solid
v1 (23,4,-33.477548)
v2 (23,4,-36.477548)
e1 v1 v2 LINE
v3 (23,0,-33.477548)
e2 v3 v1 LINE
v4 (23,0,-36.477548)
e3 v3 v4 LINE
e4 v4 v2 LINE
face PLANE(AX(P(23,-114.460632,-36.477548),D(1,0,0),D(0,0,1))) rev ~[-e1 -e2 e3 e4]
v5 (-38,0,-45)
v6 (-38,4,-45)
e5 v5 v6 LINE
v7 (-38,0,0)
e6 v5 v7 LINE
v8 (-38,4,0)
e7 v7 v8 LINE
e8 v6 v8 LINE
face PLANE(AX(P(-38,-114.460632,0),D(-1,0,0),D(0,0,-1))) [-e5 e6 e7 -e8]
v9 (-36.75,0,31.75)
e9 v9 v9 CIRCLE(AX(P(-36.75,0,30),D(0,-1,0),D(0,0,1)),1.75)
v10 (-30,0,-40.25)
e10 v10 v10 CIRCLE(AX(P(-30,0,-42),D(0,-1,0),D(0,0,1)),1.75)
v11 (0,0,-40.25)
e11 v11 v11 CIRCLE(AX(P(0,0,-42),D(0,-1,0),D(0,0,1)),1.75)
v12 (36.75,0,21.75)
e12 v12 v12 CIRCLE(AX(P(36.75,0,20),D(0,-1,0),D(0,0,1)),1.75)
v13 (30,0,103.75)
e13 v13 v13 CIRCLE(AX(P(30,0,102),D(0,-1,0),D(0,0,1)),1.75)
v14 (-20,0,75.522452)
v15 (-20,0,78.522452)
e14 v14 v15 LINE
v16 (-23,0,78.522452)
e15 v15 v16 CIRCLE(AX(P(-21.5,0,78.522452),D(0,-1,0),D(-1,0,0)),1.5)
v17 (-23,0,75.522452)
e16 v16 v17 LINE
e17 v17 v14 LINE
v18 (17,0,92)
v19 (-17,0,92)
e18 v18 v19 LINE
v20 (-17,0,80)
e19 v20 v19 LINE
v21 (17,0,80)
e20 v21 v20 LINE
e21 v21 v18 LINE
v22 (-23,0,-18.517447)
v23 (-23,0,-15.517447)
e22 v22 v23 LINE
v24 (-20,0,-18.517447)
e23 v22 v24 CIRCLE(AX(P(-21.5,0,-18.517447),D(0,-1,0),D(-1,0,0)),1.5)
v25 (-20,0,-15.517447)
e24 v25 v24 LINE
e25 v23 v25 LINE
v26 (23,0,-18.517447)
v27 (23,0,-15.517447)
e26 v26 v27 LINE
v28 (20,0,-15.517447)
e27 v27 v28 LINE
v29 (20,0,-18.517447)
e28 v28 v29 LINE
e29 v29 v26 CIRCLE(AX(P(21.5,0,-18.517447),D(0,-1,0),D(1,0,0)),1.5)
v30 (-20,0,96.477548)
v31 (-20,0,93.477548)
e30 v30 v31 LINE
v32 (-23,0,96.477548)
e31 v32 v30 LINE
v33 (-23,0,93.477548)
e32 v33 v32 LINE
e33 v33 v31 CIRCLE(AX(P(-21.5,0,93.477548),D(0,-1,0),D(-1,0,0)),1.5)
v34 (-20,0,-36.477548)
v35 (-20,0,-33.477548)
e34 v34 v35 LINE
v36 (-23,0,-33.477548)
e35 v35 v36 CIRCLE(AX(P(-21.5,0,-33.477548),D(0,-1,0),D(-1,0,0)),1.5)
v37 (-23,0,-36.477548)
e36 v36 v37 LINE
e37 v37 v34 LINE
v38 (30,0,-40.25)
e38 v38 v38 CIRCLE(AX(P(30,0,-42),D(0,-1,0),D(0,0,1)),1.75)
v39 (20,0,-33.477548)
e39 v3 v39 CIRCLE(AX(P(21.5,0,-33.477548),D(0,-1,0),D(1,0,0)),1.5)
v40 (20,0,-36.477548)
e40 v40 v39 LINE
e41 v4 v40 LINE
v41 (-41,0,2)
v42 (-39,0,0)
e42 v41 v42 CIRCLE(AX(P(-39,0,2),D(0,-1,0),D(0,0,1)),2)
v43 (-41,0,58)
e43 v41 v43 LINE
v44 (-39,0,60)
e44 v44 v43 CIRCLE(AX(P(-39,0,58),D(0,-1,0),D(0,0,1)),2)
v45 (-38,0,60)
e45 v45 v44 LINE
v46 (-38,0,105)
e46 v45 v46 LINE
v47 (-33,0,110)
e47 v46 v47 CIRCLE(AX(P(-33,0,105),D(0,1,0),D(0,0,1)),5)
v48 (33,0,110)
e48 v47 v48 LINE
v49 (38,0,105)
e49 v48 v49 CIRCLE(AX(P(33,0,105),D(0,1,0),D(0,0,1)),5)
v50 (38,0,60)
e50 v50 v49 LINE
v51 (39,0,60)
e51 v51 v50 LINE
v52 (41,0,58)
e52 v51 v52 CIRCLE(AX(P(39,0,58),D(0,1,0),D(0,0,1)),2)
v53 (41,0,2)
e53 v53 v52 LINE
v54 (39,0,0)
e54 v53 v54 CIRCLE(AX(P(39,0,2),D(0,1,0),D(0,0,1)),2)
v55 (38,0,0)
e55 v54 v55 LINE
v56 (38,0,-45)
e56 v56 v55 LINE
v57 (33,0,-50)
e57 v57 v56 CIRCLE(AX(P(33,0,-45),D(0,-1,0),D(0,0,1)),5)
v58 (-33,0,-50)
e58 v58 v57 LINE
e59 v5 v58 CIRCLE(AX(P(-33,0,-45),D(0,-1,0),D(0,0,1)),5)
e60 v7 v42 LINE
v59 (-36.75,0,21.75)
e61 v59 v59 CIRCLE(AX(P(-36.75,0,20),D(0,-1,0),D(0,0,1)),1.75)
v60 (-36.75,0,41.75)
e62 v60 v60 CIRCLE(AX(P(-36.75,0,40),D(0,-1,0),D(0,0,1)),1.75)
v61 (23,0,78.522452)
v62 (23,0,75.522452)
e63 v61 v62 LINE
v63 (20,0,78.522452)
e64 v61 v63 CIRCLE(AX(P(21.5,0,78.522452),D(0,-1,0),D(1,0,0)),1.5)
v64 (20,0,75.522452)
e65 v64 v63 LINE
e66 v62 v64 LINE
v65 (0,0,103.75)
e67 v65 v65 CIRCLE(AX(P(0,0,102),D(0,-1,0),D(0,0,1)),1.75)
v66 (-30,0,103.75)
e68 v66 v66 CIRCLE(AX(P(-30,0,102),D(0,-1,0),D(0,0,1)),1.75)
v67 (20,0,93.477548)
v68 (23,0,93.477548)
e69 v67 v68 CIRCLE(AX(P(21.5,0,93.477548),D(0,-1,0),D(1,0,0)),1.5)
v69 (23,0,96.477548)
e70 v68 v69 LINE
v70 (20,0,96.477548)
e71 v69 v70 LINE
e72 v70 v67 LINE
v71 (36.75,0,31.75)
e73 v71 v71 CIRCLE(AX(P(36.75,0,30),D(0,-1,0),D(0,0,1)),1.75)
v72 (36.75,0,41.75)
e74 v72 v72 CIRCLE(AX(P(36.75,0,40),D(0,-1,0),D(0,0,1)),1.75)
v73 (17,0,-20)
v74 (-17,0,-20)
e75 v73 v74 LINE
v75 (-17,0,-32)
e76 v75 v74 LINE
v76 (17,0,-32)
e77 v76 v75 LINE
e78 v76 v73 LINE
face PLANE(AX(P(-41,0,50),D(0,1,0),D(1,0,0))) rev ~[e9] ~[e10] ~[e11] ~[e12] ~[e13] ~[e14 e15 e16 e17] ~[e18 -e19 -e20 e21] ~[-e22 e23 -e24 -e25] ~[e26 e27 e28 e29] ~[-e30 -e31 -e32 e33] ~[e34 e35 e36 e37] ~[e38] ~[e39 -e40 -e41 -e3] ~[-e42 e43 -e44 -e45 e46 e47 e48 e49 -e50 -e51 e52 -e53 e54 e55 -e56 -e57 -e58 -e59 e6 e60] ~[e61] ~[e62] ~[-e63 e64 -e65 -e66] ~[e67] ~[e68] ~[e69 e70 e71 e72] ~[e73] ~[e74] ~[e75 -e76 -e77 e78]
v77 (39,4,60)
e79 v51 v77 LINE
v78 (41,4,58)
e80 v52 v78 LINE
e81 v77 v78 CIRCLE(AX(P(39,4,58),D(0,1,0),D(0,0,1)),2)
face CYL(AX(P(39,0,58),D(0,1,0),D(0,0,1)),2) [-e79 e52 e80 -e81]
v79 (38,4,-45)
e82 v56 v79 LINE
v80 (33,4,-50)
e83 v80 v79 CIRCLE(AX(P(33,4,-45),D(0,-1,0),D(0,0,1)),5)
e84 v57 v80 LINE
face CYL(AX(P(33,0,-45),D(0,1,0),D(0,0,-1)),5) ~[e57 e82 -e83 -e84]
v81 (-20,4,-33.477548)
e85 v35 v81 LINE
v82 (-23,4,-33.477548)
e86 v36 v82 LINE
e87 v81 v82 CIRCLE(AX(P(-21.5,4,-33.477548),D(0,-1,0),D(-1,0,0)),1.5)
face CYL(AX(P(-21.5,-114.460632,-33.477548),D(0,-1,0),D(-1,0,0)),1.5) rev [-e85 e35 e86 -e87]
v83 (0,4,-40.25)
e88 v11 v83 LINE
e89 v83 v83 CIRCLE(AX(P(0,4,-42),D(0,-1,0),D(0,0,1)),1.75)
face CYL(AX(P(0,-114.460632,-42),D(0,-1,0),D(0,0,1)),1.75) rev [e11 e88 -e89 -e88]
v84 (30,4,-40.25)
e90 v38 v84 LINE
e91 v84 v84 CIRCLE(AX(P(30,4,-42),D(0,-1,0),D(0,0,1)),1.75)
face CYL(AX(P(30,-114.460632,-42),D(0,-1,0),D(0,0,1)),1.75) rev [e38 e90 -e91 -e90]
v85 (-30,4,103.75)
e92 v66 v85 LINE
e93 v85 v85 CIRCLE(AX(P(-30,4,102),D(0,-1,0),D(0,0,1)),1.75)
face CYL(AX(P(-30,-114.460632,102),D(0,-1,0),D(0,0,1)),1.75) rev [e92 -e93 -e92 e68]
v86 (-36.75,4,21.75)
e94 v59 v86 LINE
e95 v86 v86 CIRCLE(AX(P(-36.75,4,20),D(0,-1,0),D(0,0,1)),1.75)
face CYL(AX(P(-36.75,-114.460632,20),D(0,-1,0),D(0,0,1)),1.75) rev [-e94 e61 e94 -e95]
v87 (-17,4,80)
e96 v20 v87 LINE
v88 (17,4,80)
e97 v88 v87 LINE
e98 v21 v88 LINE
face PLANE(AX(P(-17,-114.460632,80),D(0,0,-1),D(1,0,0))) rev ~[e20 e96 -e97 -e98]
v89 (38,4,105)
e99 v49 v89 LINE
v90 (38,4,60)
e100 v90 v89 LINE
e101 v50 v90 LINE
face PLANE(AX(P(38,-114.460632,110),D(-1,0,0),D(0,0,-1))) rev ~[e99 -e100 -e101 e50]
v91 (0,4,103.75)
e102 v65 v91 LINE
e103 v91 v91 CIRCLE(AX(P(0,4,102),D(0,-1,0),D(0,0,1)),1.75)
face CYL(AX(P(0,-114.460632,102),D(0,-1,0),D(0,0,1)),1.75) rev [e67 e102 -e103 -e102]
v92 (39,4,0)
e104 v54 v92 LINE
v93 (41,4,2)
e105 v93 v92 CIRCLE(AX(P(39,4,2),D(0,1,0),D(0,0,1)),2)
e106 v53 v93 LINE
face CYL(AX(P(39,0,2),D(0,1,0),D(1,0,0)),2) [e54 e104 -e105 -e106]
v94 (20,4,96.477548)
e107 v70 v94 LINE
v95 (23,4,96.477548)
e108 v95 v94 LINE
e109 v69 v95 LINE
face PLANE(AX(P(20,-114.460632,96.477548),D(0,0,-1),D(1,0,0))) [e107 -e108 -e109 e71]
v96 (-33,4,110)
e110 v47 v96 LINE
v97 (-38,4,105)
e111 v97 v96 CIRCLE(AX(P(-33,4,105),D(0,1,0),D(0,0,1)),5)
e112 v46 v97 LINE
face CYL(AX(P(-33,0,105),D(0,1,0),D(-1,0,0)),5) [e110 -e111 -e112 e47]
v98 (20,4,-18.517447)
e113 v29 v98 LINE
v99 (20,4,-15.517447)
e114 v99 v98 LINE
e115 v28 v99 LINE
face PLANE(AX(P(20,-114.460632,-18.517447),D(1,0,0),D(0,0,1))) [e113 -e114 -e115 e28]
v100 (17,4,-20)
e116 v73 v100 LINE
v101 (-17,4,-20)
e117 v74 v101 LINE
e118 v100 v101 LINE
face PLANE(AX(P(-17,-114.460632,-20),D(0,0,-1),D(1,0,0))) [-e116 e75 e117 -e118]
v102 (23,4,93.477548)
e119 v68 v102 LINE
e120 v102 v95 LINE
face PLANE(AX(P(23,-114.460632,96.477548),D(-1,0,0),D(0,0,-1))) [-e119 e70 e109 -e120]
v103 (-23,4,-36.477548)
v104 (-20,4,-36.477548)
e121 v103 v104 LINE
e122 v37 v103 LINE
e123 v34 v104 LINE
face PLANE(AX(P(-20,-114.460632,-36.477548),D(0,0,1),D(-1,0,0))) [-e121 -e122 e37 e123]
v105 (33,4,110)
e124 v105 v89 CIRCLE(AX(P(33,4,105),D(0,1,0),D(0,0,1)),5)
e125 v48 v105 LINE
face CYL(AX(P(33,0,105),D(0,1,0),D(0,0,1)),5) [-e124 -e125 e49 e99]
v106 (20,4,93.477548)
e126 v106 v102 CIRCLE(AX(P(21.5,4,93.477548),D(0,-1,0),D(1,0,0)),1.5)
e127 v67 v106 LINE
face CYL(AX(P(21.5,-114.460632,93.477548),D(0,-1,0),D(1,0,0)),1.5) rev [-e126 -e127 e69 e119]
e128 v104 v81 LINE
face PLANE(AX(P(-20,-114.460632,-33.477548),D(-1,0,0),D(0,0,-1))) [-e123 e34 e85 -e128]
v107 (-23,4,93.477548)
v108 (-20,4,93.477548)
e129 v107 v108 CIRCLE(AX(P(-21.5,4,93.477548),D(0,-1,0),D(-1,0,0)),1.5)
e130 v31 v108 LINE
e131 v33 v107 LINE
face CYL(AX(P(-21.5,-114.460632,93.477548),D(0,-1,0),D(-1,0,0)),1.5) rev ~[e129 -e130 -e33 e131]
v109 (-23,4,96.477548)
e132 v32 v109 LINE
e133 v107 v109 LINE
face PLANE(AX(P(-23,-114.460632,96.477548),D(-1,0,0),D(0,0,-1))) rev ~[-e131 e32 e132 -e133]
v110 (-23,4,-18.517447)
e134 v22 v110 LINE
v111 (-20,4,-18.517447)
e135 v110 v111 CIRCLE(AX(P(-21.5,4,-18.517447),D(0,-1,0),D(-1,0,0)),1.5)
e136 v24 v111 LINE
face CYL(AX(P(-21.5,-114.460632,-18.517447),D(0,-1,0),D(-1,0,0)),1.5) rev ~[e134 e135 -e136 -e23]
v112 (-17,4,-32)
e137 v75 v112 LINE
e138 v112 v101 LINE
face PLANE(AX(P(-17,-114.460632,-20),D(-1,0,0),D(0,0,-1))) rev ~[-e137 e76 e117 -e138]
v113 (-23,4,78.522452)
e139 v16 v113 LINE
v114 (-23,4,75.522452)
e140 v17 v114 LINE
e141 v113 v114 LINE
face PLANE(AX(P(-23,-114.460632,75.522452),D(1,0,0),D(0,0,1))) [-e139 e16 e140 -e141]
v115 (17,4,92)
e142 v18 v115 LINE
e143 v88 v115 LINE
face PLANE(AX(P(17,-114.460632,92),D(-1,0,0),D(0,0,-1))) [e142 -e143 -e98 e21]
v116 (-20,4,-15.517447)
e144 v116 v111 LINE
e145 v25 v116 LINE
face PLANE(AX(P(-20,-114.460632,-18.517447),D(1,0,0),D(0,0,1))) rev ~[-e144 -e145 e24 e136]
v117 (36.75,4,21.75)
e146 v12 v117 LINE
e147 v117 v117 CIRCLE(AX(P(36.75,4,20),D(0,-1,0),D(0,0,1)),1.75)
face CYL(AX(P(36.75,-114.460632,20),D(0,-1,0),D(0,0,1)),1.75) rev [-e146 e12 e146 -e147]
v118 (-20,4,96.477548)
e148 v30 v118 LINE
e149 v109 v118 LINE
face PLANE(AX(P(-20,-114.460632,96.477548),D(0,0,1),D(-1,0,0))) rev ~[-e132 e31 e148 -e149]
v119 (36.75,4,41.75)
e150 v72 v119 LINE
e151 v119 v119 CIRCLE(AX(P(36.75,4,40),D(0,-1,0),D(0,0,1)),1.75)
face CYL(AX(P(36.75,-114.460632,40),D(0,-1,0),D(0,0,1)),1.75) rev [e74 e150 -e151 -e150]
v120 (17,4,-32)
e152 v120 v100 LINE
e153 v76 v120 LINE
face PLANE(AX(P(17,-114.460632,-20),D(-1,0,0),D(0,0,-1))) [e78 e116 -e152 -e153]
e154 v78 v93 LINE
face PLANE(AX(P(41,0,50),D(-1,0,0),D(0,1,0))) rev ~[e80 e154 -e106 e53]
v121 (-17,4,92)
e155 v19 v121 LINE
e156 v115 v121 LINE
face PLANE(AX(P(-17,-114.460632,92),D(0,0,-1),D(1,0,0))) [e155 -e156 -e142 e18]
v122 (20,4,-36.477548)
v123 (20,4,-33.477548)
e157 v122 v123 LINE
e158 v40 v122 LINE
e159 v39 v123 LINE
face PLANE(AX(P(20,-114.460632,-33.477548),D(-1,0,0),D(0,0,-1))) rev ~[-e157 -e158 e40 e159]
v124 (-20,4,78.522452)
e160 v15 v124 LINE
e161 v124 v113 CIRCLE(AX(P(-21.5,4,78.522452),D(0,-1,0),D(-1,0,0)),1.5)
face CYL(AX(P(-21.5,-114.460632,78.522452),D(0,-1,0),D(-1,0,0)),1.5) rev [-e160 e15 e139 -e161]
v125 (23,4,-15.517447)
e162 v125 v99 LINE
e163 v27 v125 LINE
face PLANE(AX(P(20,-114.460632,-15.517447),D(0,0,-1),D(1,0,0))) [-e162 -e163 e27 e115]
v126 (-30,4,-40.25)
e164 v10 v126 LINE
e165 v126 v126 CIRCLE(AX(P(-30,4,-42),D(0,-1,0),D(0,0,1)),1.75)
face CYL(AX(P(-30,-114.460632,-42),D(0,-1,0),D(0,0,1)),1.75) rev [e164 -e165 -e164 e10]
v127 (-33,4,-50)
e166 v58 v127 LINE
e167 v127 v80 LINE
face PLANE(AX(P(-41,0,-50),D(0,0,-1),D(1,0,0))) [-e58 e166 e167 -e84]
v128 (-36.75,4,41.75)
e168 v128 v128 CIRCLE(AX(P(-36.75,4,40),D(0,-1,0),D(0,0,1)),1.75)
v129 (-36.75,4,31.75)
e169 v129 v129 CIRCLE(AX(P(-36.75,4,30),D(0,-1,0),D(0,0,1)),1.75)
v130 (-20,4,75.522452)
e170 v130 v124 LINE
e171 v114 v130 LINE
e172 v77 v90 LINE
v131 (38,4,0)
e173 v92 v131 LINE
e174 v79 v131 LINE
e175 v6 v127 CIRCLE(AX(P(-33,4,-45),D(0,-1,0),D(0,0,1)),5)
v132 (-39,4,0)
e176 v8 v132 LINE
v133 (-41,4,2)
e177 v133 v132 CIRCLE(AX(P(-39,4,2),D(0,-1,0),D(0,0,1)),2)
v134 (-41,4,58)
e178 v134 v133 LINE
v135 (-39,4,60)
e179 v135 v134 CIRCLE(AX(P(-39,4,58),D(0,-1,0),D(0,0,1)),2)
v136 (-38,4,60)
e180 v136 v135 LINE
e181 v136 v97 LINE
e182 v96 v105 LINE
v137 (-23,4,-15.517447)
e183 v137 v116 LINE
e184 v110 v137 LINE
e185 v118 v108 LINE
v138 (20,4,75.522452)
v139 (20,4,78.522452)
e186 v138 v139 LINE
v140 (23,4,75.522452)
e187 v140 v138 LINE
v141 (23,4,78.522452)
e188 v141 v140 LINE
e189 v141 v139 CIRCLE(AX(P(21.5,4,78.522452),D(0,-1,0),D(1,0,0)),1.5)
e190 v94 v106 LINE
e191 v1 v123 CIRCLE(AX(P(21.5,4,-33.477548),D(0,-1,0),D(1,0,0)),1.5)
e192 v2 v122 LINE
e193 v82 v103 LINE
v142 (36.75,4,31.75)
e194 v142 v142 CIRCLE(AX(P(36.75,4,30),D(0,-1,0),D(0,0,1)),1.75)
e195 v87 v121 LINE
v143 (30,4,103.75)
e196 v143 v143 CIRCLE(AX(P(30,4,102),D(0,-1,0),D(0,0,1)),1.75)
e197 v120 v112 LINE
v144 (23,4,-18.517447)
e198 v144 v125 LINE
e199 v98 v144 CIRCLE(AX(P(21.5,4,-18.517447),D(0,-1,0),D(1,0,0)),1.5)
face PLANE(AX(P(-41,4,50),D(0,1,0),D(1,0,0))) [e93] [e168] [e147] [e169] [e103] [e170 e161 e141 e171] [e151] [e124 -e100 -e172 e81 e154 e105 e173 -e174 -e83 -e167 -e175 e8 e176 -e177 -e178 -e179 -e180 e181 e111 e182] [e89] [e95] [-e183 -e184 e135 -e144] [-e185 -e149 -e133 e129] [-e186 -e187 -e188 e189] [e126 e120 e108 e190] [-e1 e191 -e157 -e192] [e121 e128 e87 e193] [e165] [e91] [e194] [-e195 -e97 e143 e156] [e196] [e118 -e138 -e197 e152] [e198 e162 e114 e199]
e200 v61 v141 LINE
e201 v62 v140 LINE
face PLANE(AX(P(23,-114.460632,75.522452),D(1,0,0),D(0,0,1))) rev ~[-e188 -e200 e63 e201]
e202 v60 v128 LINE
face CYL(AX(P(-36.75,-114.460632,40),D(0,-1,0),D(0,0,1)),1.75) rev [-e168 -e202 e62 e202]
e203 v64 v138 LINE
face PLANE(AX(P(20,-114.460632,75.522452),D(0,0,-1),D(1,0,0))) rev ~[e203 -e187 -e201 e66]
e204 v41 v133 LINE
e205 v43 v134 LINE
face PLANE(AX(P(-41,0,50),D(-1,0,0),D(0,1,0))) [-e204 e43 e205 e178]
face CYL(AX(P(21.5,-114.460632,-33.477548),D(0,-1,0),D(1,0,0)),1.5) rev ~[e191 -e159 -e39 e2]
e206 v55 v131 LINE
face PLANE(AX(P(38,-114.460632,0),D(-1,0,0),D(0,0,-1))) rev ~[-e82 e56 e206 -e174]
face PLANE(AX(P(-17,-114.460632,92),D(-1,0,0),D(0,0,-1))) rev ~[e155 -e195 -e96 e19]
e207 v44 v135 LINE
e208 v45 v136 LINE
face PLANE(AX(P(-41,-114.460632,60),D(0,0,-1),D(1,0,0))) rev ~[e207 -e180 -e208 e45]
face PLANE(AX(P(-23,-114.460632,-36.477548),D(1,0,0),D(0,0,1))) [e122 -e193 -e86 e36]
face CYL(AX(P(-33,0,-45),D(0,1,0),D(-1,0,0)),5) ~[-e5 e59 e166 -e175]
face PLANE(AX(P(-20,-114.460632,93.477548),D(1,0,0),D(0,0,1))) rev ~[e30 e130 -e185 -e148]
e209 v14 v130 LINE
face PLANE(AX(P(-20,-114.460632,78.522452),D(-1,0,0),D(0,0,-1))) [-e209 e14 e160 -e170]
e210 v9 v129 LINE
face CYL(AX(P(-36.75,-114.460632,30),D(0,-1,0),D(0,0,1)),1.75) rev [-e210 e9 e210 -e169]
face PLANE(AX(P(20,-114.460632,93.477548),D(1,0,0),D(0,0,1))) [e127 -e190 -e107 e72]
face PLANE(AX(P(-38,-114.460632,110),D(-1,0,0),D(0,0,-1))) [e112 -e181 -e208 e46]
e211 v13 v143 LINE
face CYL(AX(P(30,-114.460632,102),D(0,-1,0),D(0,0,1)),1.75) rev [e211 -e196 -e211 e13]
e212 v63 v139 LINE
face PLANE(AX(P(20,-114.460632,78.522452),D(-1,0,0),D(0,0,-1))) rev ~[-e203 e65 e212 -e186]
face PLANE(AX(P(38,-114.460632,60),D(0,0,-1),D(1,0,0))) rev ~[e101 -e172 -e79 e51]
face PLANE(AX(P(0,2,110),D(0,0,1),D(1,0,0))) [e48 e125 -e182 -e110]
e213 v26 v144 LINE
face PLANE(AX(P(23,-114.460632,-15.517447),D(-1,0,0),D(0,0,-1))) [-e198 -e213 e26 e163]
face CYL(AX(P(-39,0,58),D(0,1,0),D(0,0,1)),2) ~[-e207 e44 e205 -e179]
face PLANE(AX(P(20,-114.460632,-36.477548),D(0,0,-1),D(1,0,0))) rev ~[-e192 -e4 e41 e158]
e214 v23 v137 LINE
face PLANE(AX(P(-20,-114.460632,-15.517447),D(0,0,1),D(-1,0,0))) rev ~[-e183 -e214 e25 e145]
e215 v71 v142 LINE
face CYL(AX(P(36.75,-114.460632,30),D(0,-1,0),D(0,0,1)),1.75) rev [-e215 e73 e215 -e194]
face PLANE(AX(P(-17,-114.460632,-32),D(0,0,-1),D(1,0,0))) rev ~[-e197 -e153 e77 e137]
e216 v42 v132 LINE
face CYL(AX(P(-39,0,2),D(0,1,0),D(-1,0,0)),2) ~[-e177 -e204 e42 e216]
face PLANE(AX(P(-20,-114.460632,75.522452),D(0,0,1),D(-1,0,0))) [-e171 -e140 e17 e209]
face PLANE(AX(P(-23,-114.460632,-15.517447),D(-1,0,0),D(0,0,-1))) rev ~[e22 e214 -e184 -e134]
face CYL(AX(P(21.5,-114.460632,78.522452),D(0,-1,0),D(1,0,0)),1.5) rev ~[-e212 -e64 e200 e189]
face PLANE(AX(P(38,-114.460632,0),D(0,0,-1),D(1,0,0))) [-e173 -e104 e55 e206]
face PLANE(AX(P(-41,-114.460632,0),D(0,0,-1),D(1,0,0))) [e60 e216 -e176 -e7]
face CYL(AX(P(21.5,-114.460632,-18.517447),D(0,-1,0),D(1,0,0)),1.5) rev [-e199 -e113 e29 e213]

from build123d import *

# Parameters (mm, degrees)
SKETCH_1_W               = 82
SKETCH_1_H               = 100
EXTRUDE_1_DEPTH          = 4
SKETCH_2_W               = 82
SKETCH_2_H               = 4
EXTRUDE_2_DEPTH          = 60
CUT_EXTRUDE_1_DEPTH      = 118.460631703
CUT_EXTRUDE_1_DEPTH_BACK = 118.460631703
SKETCH_3_W               = 3
SKETCH_3_H               = 50
CUT_EXTRUDE_2_DEPTH      = 118.460631703
CUT_EXTRUDE_2_DEPTH_BACK = 118.460631703
SKETCH_5_R               = 1.75
CUT_EXTRUDE_3_DEPTH      = 118.460631703
CUT_EXTRUDE_3_DEPTH_BACK = 118.460631703
SKETCH_6_R               = 1.75
CUT_EXTRUDE_4_DEPTH      = 118.460631703
CUT_EXTRUDE_4_DEPTH_BACK = 118.460631703
SKETCH_7_W               = 34
SKETCH_7_H               = 12
FILLET_1_R               = 5
FILLET_2_R               = 2
CUT_EXTRUDE_5_DEPTH      = 118.460631703
CUT_EXTRUDE_5_DEPTH_BACK = 118.460631703
SKETCH_8_R               = 1.75
CUT_EXTRUDE_6_DEPTH      = 118.460631703
CUT_EXTRUDE_6_DEPTH_BACK = 118.460631703
CUT_EXTRUDE_7_DEPTH      = 118.460631703
CUT_EXTRUDE_7_DEPTH_BACK = 118.460631703
SKETCH_10_R              = 1.75


with BuildPart() as part:
    # 草图1 → 凸台-拉伸1 (new body)
    with BuildSketch(Plane(origin=(0, 0, 0), x_dir=(1, 0, 0), z_dir=(0, 1, 0))):
        Rectangle(SKETCH_1_W, SKETCH_1_H)
    extrude(amount=EXTRUDE_1_DEPTH)

    # 草图2 → 凸台-拉伸2 (add)
    with BuildSketch(Plane.XY.offset(50)):
        with Locations((0, 2)):
            Rectangle(SKETCH_2_W, SKETCH_2_H)
    extrude(amount=EXTRUDE_2_DEPTH)

    # 草图3 → 切除-拉伸1 (cut, two sides: drawn at the far end of the back side and taken through both)
    with BuildSketch(Plane(origin=(0, 4, 0), x_dir=(1, 0, 0), z_dir=(0, 1, 0)).offset(-CUT_EXTRUDE_1_DEPTH_BACK)):
        with Locations((-39.5, 25)):
            Rectangle(SKETCH_3_W, SKETCH_3_H)
        with Locations((39.5, 25)):
            Rectangle(SKETCH_3_W, SKETCH_3_H)
        with Locations((-39.5, -85)):
            Rectangle(SKETCH_3_W, SKETCH_3_H)
        with Locations((39.5, -85)):
            Rectangle(SKETCH_3_W, SKETCH_3_H)
    extrude(amount=CUT_EXTRUDE_1_DEPTH + CUT_EXTRUDE_1_DEPTH_BACK, mode=Mode.SUBTRACT)

    # 草图5 → 切除-拉伸2 (cut, two sides: drawn at the far end of the back side and taken through both)
    with BuildSketch(Plane(origin=(0, 4, 0), x_dir=(1, 0, 0), z_dir=(0, 1, 0)).offset(-CUT_EXTRUDE_2_DEPTH_BACK)):
        with Locations(Location((-30, 42, 0), (0, 0, 270))):
            Circle(SKETCH_5_R)
    extrude(amount=CUT_EXTRUDE_2_DEPTH + CUT_EXTRUDE_2_DEPTH_BACK, mode=Mode.SUBTRACT)

    # 草图6 → 切除-拉伸3 (cut, two sides: drawn at the far end of the back side and taken through both)
    with BuildSketch(Plane(origin=(0, 4, 0), x_dir=(1, 0, 0), z_dir=(0, 1, 0)).offset(-CUT_EXTRUDE_3_DEPTH_BACK)):
        with Locations(Location((30, 42, 0), (0, 0, 270))):
            Circle(SKETCH_6_R)
        with Locations(Location((-30, -102, 0), (0, 0, 270))):
            Circle(SKETCH_6_R)
        with Locations(Location((30, -102, 0), (0, 0, 270))):
            Circle(SKETCH_6_R)
    extrude(amount=CUT_EXTRUDE_3_DEPTH + CUT_EXTRUDE_3_DEPTH_BACK, mode=Mode.SUBTRACT)

    # 草图7 → 切除-拉伸4 (cut, two sides: drawn at the far end of the back side and taken through both)
    with BuildSketch(Plane(origin=(0, 4, 0), x_dir=(1, 0, 0), z_dir=(0, 1, 0)).offset(-CUT_EXTRUDE_4_DEPTH_BACK)):
        with Locations((0, -86)):
            Rectangle(SKETCH_7_W, SKETCH_7_H)
        with Locations((0, 26)):
            Rectangle(SKETCH_7_W, SKETCH_7_H)
    extrude(amount=CUT_EXTRUDE_4_DEPTH + CUT_EXTRUDE_4_DEPTH_BACK, mode=Mode.SUBTRACT)

    # 圆角1
    fillet_1_edges = [part.edges().sort_by_distance(p)[0] for p in [
        (38, 2, -50),
        (-38, 2, 110),
        (38, 2, 110),
        (-38, 2, -50),
    ]]
    fillet(fillet_1_edges, radius=FILLET_1_R)

    # 圆角2
    fillet_2_edges = [part.edges().sort_by_distance(p)[0] for p in [
        (41, 2, 0),
        (-41, 2, 60),
        (41, 2, 60),
        (-41, 2, 0),
    ]]
    fillet(fillet_2_edges, radius=FILLET_2_R)

    # 草图8 → 切除-拉伸5 (cut, two sides: drawn at the far end of the back side and taken through both)
    with BuildSketch(Plane(origin=(0, 4, 0), x_dir=(1, 0, 0), z_dir=(0, 1, 0)).offset(-CUT_EXTRUDE_5_DEPTH_BACK)):
        with Locations(Location((0, 42, 0), (0, 0, 270))):
            Circle(SKETCH_8_R)
        with Locations(Location((0, -102, 0), (0, 0, 270))):
            Circle(SKETCH_8_R)
    extrude(amount=CUT_EXTRUDE_5_DEPTH + CUT_EXTRUDE_5_DEPTH_BACK, mode=Mode.SUBTRACT)

    # 草图9 → 切除-拉伸6 (cut, two sides: drawn at the far end of the back side and taken through both)
    with BuildSketch(Plane(origin=(0, 4, 0), x_dir=(1, 0, 0), z_dir=(0, 1, 0)).offset(-CUT_EXTRUDE_6_DEPTH_BACK)):
        with BuildLine():
            Line((20, 33.477548097), (20, 36.477548097))
            Line((20, 36.477548097), (23, 36.477548097))
            Line((23, 36.477548097), (23, 33.477548097))
            ThreePointArc((23, 33.477548097), (21.5, 31.977548097), (20, 33.477548097))
        make_face()
        with BuildLine():
            Line((-23, 36.477548097), (-23, 33.477548097))
            ThreePointArc((-23, 33.477548097), (-21.5, 31.977548097), (-20, 33.477548097))
            Line((-20, 33.477548097), (-20, 36.477548097))
            Line((-20, 36.477548097), (-23, 36.477548097))
        make_face()
        with BuildLine():
            Line((-20, -93.477548097), (-20, -96.477548097))
            Line((-20, -96.477548097), (-23, -96.477548097))
            Line((-23, -96.477548097), (-23, -93.477548097))
            ThreePointArc((-23, -93.477548097), (-21.5, -91.977548097), (-20, -93.477548097))
        make_face()
        with BuildLine():
            Line((23, -96.477548097), (23, -93.477548097))
            ThreePointArc((23, -93.477548097), (21.5, -91.977548097), (20, -93.477548097))
            Line((20, -93.477548097), (20, -96.477548097))
            Line((20, -96.477548097), (23, -96.477548097))
        make_face()
        with BuildLine():
            Line((-20, 18.517447437), (-20, 15.517447437))
            Line((-20, 15.517447437), (-23, 15.517447437))
            Line((-23, 15.517447437), (-23, 18.517447437))
            ThreePointArc((-23, 18.517447437), (-21.5, 20.017447437), (-20, 18.517447437))
        make_face()
        with BuildLine():
            Line((23, 15.517447437), (23, 18.517447437))
            ThreePointArc((23, 18.517447437), (21.5, 20.017447437), (20, 18.517447437))
            Line((20, 18.517447437), (20, 15.517447437))
            Line((20, 15.517447437), (23, 15.517447437))
        make_face()
        with BuildLine():
            Line((20, -78.522451903), (20, -75.522451903))
            Line((20, -75.522451903), (23, -75.522451903))
            Line((23, -75.522451903), (23, -78.522451903))
            ThreePointArc((23, -78.522451903), (21.5, -80.022451903), (20, -78.522451903))
        make_face()
        with BuildLine():
            Line((-23, -75.522451903), (-23, -78.522451903))
            ThreePointArc((-23, -78.522451903), (-21.5, -80.022451903), (-20, -78.522451903))
            Line((-20, -78.522451903), (-20, -75.522451903))
            Line((-20, -75.522451903), (-23, -75.522451903))
        make_face()
    extrude(amount=CUT_EXTRUDE_6_DEPTH + CUT_EXTRUDE_6_DEPTH_BACK, mode=Mode.SUBTRACT)

    # 草图10 → 切除-拉伸7 (cut, two sides: drawn at the far end of the back side and taken through both)
    with BuildSketch(Plane(origin=(0, 4, 0), x_dir=(1, 0, 0), z_dir=(0, 1, 0)).offset(-CUT_EXTRUDE_7_DEPTH_BACK)):
        with Locations(Location((-36.75, -30, 0), (0, 0, 270))):
            Circle(SKETCH_10_R)
        with Locations(Location((36.75, -30, 0), (0, 0, 270))):
            Circle(SKETCH_10_R)
        with Locations(Location((-36.75, -20, 0), (0, 0, 270))):
            Circle(SKETCH_10_R)
        with Locations(Location((36.75, -20, 0), (0, 0, 270))):
            Circle(SKETCH_10_R)
        with Locations(Location((-36.75, -40, 0), (0, 0, 270))):
            Circle(SKETCH_10_R)
        with Locations(Location((36.75, -40, 0), (0, 0, 270))):
            Circle(SKETCH_10_R)
    extrude(amount=CUT_EXTRUDE_7_DEPTH + CUT_EXTRUDE_7_DEPTH_BACK, mode=Mode.SUBTRACT)


solid = part.part
